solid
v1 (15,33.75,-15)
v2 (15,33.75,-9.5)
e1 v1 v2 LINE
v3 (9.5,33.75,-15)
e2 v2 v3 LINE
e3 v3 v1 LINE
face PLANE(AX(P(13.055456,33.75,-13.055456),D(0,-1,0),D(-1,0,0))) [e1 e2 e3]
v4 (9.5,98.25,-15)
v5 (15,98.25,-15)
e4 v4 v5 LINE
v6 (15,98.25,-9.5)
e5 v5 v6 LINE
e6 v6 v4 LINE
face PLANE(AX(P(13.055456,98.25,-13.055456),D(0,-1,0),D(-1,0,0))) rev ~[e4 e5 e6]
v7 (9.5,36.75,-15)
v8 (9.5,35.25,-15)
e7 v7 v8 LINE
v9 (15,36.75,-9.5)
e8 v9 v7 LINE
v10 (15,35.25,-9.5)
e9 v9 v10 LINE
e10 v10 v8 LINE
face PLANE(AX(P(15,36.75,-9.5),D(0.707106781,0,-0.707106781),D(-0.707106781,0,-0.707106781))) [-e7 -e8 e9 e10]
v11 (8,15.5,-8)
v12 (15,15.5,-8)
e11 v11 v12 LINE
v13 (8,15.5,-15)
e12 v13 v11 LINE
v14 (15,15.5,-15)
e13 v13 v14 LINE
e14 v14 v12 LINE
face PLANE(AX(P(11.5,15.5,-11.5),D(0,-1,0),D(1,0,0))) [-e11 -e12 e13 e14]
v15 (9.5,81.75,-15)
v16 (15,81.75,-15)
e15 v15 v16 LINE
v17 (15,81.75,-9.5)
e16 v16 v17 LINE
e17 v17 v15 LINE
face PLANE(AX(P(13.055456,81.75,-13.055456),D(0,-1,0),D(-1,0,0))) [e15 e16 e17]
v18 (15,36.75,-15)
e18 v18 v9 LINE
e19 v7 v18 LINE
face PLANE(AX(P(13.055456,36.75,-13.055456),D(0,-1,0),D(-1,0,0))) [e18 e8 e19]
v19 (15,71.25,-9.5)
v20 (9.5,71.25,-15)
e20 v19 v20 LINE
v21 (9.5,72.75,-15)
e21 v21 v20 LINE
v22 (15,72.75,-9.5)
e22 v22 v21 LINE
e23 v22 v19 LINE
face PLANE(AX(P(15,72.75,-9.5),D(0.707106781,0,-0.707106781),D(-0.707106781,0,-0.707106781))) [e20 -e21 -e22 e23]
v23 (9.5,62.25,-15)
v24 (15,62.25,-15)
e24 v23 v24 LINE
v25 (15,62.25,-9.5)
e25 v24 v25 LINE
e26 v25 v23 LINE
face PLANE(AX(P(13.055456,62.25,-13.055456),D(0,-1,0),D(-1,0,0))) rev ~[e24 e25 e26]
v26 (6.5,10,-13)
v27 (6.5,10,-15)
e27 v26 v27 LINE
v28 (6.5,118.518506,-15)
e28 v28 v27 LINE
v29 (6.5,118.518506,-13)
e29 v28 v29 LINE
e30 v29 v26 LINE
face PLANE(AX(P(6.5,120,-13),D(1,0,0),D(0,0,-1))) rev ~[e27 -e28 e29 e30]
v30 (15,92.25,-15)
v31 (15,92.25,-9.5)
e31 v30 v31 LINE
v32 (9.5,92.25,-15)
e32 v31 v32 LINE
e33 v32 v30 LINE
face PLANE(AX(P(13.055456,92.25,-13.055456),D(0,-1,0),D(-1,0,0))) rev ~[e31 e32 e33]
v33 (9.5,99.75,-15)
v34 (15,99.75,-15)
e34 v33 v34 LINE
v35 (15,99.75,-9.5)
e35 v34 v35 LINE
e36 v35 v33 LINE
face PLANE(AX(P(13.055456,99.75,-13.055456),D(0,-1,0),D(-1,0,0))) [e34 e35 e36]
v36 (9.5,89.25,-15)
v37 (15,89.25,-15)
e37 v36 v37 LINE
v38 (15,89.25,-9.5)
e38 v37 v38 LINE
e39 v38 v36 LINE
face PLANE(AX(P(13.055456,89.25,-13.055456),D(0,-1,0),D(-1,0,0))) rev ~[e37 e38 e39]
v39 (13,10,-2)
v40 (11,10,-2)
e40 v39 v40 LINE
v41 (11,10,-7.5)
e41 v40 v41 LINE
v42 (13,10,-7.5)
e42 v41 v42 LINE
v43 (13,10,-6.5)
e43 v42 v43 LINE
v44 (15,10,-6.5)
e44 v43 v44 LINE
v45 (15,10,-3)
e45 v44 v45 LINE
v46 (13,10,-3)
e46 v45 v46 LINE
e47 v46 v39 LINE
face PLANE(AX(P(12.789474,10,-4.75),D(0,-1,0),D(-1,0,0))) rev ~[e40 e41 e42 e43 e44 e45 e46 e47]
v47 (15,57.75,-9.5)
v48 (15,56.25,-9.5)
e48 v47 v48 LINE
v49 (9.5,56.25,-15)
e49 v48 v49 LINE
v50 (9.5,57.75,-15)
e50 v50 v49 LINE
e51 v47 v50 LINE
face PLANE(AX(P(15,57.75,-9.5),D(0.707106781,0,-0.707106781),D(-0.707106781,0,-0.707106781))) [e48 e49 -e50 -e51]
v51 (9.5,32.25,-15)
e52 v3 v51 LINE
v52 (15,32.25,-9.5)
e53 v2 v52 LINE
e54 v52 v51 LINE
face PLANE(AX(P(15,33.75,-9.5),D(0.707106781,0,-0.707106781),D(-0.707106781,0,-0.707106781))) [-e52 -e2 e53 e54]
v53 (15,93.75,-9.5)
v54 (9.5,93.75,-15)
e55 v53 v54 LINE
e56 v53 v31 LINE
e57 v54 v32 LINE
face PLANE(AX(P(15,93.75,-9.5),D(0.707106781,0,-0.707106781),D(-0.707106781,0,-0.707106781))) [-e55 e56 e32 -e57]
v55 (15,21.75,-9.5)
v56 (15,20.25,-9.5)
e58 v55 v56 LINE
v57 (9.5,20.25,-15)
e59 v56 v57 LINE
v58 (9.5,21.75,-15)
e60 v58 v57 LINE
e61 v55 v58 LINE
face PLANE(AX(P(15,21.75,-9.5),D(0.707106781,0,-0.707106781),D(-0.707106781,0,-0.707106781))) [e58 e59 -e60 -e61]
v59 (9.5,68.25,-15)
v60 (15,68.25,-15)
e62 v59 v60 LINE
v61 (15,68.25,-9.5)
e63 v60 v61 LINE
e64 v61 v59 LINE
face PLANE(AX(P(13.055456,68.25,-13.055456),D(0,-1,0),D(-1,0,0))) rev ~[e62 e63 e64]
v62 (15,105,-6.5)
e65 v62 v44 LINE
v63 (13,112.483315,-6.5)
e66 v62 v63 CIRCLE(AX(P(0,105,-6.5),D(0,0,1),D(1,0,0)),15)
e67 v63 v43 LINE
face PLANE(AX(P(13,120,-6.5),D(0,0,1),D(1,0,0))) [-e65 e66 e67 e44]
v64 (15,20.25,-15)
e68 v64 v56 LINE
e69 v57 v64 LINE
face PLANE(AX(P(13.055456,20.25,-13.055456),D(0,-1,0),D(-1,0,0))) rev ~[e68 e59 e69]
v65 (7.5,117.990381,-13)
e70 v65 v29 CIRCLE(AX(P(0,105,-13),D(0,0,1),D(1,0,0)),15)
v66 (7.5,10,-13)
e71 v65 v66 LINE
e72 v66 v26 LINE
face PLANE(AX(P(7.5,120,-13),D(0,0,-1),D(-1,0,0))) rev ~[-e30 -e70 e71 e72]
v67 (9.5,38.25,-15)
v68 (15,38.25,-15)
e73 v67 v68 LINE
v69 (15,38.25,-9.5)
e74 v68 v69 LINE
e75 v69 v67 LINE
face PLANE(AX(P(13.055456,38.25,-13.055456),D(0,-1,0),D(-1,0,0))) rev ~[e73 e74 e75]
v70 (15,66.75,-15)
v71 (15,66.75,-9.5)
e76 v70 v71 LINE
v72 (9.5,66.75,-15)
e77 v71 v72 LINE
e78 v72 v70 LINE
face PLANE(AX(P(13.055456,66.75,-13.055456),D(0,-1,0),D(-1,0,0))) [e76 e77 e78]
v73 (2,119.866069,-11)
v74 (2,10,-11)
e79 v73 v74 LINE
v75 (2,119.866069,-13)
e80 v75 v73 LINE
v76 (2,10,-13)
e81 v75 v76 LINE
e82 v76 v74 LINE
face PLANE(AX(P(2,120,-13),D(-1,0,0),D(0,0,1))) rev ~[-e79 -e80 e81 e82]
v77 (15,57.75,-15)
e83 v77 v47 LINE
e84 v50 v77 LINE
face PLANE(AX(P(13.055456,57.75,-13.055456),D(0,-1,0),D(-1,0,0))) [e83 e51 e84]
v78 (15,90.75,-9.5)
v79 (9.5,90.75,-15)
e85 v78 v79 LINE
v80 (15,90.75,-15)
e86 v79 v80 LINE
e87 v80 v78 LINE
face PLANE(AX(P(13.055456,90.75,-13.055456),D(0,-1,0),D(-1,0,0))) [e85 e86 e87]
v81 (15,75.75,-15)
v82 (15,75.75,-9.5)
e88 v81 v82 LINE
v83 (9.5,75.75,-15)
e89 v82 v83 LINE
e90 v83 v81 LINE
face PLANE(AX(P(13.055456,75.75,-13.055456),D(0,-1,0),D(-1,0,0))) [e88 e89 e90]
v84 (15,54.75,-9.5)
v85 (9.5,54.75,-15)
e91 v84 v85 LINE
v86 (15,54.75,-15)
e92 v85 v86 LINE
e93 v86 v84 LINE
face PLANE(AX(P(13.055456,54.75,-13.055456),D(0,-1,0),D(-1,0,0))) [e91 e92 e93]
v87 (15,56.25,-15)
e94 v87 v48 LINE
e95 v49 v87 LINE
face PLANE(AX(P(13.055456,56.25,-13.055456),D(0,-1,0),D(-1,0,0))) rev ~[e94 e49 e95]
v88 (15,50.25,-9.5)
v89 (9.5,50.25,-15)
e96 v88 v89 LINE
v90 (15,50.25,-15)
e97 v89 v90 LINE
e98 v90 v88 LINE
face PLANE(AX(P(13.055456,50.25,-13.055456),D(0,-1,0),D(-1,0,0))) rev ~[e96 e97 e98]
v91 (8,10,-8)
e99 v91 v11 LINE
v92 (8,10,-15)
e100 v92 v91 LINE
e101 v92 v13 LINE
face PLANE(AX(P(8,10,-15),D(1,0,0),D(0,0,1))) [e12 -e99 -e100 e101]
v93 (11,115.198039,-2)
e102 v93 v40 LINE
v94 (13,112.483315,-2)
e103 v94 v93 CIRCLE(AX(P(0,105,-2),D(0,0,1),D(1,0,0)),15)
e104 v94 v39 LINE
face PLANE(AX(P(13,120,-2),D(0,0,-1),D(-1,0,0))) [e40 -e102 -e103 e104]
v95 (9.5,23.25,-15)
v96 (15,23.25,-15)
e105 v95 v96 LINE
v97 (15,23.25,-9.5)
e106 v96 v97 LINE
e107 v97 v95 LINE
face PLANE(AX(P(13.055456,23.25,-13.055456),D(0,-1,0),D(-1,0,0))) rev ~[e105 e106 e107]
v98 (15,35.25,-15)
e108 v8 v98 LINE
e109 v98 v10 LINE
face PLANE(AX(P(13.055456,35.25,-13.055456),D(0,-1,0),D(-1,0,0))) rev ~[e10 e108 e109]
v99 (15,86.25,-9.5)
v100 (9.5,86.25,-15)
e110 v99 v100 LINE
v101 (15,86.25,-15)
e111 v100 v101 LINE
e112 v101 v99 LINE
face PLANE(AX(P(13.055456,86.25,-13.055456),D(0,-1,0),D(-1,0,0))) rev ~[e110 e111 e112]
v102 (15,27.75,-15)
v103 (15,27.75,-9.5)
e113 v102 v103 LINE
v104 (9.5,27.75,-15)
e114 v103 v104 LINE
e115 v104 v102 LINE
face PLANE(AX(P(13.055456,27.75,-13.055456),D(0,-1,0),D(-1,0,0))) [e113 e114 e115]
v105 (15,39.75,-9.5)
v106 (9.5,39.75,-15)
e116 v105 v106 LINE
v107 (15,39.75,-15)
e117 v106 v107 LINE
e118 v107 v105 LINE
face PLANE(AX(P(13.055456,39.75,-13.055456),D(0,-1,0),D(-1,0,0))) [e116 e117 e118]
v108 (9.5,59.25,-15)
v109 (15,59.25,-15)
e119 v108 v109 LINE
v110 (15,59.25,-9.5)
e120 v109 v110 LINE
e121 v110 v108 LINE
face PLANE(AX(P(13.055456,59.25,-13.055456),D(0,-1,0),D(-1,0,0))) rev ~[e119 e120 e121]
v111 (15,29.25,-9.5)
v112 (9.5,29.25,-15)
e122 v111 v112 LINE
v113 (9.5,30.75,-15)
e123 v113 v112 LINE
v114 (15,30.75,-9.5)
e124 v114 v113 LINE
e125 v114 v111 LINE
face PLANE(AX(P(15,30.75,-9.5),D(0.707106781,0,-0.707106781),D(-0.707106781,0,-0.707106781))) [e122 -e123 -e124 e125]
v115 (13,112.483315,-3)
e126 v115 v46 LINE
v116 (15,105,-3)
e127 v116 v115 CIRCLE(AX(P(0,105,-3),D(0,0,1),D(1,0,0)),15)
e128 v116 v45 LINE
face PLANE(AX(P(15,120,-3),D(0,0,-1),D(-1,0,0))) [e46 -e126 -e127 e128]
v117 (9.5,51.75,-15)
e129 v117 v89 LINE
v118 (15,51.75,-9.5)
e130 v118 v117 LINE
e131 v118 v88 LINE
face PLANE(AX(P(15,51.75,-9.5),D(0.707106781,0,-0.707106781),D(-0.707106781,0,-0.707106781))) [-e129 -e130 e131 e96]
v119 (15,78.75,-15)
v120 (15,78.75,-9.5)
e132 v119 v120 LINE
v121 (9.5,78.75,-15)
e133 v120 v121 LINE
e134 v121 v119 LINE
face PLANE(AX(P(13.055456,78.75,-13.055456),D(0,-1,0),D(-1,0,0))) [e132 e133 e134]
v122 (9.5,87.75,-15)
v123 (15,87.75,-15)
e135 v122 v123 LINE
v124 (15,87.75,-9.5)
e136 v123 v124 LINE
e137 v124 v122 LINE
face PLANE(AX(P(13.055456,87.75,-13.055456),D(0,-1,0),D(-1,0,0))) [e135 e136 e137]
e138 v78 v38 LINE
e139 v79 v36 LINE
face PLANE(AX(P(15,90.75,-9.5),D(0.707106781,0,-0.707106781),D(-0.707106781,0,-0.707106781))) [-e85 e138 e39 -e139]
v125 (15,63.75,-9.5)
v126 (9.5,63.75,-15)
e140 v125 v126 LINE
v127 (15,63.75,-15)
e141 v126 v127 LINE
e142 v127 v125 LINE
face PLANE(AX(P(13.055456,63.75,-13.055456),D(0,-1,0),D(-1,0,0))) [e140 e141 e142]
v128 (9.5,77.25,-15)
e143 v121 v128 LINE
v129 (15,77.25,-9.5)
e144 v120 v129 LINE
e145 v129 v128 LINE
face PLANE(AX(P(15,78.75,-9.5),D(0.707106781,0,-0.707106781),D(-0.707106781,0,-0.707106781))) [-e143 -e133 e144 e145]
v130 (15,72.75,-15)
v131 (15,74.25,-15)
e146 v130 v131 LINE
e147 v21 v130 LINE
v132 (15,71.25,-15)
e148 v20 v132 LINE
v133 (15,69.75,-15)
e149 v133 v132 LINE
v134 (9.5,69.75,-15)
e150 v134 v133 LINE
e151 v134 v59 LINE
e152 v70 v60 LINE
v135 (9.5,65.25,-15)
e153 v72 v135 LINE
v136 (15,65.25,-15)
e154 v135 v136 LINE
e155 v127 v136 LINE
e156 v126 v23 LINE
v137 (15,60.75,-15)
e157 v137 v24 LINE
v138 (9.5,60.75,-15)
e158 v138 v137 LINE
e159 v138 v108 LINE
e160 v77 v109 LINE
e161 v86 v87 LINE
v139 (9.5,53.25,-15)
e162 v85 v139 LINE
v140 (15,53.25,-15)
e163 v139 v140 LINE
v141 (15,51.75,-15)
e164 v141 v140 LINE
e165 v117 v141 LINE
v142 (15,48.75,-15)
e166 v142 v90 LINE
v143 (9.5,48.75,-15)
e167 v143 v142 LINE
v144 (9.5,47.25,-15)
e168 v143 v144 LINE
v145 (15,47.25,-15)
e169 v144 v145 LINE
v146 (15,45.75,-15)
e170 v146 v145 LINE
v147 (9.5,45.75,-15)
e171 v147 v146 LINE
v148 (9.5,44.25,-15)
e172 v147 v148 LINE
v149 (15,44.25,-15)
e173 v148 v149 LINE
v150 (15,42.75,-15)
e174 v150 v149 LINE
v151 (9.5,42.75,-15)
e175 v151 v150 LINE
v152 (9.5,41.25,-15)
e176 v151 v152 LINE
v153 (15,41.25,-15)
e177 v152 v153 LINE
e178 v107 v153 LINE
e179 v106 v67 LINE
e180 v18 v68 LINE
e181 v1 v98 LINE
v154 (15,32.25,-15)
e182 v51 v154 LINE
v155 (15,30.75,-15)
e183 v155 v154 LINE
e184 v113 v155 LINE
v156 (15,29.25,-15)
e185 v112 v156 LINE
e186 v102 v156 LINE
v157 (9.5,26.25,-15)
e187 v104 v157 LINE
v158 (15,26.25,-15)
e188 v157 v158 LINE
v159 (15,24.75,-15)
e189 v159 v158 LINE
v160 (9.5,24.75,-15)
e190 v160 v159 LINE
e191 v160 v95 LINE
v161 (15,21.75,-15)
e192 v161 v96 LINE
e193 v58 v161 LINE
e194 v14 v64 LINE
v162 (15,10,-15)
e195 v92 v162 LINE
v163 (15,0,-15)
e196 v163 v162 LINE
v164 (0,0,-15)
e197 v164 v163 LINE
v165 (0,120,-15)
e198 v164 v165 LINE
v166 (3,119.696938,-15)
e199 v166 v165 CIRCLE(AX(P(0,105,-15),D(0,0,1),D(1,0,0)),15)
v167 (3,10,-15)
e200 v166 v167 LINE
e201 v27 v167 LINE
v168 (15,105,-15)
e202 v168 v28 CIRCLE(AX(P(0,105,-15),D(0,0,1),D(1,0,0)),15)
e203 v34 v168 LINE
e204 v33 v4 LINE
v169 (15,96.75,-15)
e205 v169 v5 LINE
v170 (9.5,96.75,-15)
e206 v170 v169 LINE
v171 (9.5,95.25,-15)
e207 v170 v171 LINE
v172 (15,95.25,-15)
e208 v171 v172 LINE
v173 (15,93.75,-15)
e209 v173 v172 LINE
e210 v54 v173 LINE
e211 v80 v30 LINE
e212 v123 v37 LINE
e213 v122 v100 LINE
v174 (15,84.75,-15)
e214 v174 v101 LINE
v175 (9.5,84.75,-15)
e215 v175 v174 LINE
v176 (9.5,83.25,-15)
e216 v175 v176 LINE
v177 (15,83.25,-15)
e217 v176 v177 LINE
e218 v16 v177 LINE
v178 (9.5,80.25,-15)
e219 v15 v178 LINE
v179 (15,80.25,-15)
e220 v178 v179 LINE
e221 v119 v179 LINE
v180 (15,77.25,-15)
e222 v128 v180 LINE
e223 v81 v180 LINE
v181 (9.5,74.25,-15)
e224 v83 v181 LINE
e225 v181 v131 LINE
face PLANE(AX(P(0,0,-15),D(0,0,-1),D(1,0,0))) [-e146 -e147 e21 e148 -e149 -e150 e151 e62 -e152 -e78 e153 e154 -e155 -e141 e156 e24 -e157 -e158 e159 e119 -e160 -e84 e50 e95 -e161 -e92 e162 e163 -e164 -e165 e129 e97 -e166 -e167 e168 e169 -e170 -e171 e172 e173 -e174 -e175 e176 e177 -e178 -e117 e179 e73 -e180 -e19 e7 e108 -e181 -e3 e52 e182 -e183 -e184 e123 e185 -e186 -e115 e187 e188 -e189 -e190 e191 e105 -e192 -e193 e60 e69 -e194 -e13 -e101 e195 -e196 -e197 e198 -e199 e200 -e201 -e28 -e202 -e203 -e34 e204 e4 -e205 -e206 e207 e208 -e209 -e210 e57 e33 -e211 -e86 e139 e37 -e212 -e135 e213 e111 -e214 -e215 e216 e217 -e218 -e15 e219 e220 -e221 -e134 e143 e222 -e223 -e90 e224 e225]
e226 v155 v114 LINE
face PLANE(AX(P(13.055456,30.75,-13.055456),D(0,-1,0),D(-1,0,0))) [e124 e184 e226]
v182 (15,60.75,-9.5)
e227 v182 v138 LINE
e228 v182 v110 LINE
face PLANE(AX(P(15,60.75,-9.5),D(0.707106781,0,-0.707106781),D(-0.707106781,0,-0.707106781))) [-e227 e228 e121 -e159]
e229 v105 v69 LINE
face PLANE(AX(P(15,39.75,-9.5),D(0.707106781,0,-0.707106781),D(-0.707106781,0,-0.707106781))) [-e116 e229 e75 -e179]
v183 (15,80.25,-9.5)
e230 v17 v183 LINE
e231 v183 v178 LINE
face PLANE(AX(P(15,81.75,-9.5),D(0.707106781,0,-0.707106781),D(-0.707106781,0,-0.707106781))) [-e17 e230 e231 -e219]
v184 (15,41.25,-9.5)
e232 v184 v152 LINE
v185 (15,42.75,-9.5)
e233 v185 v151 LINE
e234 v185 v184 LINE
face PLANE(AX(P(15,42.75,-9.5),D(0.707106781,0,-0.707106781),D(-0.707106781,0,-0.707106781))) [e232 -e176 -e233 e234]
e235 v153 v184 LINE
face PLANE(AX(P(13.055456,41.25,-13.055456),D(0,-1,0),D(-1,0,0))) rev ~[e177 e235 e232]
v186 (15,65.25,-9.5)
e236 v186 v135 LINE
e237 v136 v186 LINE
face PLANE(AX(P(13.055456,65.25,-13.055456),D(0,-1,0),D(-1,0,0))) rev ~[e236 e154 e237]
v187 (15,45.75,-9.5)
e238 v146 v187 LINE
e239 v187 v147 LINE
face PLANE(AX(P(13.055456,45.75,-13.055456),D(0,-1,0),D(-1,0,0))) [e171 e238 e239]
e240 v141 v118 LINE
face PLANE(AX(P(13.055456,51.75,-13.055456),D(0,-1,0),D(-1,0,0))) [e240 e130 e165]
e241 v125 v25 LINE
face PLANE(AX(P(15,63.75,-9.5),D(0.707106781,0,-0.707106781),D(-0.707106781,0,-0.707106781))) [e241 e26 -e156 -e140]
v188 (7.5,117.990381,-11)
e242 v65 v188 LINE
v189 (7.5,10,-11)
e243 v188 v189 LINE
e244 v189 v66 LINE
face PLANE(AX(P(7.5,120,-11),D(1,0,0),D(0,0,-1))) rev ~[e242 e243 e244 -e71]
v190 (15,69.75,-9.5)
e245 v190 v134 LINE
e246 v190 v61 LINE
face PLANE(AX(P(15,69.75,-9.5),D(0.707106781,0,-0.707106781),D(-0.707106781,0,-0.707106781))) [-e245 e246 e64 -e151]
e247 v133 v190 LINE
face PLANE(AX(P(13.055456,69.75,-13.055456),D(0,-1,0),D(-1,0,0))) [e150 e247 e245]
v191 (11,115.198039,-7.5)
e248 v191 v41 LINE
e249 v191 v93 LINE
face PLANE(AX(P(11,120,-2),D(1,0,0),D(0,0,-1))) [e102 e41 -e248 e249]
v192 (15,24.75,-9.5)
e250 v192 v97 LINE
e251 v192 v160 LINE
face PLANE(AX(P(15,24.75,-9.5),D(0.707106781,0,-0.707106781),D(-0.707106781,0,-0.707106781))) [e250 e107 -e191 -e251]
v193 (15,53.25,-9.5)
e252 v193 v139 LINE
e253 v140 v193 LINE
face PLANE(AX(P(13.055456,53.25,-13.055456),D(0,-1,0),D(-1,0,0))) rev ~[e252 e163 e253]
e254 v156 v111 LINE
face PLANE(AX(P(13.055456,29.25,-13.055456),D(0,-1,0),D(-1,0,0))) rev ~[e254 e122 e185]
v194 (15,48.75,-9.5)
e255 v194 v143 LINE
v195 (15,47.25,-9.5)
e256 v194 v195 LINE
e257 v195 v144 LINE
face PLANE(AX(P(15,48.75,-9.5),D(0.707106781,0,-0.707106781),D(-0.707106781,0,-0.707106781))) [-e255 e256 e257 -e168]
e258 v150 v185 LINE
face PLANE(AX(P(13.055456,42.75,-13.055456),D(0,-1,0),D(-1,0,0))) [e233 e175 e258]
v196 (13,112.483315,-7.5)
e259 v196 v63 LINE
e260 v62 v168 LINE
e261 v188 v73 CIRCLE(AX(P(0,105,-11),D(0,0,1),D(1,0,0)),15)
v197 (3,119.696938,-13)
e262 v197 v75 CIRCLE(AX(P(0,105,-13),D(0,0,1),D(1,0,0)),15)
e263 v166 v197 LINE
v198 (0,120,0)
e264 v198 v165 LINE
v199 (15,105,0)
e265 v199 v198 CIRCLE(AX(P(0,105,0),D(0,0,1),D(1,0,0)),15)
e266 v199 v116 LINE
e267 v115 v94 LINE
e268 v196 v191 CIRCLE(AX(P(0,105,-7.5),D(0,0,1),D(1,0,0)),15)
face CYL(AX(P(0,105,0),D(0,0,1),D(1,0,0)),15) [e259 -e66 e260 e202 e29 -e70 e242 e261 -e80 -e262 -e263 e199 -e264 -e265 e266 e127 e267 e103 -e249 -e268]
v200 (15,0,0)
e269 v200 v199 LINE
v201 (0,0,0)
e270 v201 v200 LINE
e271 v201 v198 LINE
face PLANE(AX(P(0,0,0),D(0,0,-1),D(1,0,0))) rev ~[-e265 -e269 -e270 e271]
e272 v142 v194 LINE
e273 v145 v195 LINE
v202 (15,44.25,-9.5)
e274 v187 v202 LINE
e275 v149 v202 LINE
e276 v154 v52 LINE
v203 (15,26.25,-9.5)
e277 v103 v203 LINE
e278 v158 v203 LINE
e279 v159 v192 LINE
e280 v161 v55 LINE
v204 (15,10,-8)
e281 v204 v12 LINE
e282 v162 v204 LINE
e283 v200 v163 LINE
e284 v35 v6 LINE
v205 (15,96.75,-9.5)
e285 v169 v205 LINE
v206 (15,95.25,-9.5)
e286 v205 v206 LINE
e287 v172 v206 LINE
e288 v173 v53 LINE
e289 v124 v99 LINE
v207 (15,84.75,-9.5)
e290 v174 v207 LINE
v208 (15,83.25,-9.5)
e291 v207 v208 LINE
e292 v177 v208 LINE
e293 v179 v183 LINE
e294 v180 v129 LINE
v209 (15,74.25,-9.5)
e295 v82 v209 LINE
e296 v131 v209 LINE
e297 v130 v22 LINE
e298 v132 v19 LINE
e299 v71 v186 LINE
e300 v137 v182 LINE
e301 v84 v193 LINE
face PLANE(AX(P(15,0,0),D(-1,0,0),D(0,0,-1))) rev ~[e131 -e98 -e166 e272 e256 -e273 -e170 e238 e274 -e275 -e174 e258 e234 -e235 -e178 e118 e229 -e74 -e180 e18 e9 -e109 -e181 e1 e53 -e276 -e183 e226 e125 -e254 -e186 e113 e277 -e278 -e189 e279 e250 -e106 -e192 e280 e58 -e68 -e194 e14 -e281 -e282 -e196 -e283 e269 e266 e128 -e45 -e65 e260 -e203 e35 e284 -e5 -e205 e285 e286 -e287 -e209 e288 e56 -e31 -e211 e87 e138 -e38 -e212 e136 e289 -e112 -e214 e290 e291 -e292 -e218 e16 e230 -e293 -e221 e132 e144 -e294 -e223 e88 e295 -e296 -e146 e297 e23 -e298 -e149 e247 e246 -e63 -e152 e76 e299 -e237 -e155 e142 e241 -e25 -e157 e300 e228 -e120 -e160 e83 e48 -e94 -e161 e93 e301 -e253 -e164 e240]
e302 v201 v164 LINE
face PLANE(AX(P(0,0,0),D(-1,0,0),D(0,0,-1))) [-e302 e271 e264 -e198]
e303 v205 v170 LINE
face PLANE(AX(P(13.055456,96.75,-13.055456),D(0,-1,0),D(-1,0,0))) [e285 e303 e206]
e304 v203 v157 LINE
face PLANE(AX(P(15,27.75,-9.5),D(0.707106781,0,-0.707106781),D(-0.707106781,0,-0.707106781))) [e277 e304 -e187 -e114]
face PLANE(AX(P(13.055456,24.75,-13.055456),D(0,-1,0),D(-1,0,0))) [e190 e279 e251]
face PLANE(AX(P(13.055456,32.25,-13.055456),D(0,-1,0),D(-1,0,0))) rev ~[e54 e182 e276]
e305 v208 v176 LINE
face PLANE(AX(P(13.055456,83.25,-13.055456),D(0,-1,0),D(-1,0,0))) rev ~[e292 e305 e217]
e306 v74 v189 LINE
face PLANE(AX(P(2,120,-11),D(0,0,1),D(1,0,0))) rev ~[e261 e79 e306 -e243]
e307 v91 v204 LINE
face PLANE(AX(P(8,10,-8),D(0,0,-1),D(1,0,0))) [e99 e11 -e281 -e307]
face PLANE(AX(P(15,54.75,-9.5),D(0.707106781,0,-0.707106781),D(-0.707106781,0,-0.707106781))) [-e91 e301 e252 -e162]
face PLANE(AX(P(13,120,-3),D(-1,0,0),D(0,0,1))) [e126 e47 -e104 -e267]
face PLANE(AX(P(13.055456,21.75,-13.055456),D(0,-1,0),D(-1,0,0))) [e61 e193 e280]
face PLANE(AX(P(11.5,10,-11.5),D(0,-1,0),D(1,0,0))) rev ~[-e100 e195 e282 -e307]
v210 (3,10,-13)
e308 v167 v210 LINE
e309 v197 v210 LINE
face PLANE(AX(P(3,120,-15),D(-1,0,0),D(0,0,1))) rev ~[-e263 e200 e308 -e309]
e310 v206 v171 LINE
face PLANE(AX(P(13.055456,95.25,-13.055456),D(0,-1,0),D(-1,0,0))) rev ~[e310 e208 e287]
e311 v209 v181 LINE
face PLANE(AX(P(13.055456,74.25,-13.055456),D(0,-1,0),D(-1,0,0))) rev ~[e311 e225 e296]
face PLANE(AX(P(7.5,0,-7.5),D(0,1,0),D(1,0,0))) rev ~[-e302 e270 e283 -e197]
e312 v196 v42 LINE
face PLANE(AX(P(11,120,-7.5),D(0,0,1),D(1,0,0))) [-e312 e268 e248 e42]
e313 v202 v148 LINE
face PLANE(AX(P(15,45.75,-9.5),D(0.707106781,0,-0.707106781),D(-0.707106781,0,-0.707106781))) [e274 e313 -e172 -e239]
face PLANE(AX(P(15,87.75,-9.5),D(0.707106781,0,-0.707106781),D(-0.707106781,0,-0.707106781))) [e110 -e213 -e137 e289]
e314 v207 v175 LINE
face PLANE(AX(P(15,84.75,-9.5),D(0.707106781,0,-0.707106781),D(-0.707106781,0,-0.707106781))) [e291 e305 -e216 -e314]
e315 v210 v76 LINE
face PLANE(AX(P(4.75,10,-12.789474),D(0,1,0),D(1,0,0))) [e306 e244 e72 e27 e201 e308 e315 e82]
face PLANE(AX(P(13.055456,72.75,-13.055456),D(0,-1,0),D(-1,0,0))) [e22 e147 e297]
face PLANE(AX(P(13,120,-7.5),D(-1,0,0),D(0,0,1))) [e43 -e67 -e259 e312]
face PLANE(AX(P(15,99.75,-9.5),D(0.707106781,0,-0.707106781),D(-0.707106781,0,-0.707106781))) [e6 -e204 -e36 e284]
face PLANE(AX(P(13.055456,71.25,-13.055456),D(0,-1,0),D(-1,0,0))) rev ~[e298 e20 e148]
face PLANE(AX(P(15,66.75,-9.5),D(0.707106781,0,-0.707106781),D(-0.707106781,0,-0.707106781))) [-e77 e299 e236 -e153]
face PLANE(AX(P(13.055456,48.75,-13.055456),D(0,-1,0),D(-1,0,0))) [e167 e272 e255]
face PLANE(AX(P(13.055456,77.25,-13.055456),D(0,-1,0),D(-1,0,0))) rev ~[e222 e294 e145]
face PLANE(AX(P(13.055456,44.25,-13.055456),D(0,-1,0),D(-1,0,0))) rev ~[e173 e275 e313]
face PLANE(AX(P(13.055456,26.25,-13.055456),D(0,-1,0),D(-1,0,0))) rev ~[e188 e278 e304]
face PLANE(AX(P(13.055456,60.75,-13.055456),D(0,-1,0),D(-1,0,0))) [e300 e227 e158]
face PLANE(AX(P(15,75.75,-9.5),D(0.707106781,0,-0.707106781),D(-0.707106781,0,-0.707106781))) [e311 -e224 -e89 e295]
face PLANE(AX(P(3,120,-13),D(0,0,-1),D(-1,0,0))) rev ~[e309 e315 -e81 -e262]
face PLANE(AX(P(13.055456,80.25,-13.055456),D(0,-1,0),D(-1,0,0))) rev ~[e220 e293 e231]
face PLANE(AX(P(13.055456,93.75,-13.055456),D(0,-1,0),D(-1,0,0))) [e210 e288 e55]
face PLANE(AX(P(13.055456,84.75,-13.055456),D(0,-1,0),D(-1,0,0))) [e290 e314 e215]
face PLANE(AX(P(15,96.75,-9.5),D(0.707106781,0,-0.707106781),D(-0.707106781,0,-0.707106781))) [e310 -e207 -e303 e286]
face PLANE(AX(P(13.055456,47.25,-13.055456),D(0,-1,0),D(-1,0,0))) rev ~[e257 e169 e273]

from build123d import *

# Parameters (mm, degrees)
SKETCH1_W           = 15
SKETCH1_H           = 15
BOSS_EXTRUDE1_DEPTH = 120
CUT_EXTRUDE1_DEPTH  = 110
CUT_EXTRUDE2_START  = -20.25
CUT_EXTRUDE2_DEPTH  = 1.5
LPATTERN1_COUNT     = 27
LPATTERN1_PITCH     = 3
CUT_EXTRUDE3_START  = -10
SKETCH6_W           = 7
SKETCH6_H           = 7
CUT_EXTRUDE3_DEPTH  = 5.5
CUT_EXTRUDE4_DEPTH  = 122.86057607


with BuildPart() as part:
    # Sketch1 → Boss-Extrude1 (new body)
    with BuildSketch(Plane(origin=(0, 0, 0), x_dir=(1, 0, 0), z_dir=(0, 1, 0))):
        with Locations((7.5, 7.5)):
            Rectangle(SKETCH1_W, SKETCH1_H)
    extrude(amount=BOSS_EXTRUDE1_DEPTH)

    # Sketch3 → Cut-Extrude1 (cut)
    with BuildSketch(Plane(origin=(0, 120, 0), x_dir=(1, 0, 0), z_dir=(0, 1, 0))):
        Polygon((15, 3), (13, 3), (13, 2), (11, 2), (11, 7.5), (13, 7.5), (13, 6.5), (15, 6.5), align=None)
        Polygon((3, 13), (2, 13), (2, 11), (7.5, 11), (7.5, 13), (6.5, 13), (6.5, 15), (3, 15), align=None)
    extrude(amount=-CUT_EXTRUDE1_DEPTH, mode=Mode.SUBTRACT)

    # Sketch5 → Cut-Extrude2 (cut)
    with BuildSketch(Plane(origin=(0, 120, 0), x_dir=(1, 0, 0), z_dir=(0, 1, 0)).offset(CUT_EXTRUDE2_START)):
        Polygon((15, 15), (15, 9.5), (9.5, 15), align=None)
    cut_extrude2 = extrude(amount=-CUT_EXTRUDE2_DEPTH, mode=Mode.SUBTRACT)

    # LPattern1: Cut-Extrude2 ×27
    with Locations(*[(0, -i * LPATTERN1_PITCH, 0) for i in range(1, LPATTERN1_COUNT)]):
        add(cut_extrude2, mode=Mode.SUBTRACT)

    # Sketch6 → Cut-Extrude3 (cut)
    with BuildSketch(Plane.XZ.offset(CUT_EXTRUDE3_START)):
        with Locations((11.5, -11.5)):
            Rectangle(SKETCH6_W, SKETCH6_H)
    extrude(amount=-CUT_EXTRUDE3_DEPTH, mode=Mode.SUBTRACT)

    # Sketch12 → Cut-Extrude4 (cut, through all)
    with BuildSketch(Plane.XY):
        with BuildLine():
            Line((0, 120), (15, 120))
            Line((15, 120), (15, 105))
            ThreePointArc((15, 105), (10.606601718, 115.606601718), (0, 120))
        make_face()
    extrude(amount=-CUT_EXTRUDE4_DEPTH, mode=Mode.SUBTRACT)


solid = part.part
